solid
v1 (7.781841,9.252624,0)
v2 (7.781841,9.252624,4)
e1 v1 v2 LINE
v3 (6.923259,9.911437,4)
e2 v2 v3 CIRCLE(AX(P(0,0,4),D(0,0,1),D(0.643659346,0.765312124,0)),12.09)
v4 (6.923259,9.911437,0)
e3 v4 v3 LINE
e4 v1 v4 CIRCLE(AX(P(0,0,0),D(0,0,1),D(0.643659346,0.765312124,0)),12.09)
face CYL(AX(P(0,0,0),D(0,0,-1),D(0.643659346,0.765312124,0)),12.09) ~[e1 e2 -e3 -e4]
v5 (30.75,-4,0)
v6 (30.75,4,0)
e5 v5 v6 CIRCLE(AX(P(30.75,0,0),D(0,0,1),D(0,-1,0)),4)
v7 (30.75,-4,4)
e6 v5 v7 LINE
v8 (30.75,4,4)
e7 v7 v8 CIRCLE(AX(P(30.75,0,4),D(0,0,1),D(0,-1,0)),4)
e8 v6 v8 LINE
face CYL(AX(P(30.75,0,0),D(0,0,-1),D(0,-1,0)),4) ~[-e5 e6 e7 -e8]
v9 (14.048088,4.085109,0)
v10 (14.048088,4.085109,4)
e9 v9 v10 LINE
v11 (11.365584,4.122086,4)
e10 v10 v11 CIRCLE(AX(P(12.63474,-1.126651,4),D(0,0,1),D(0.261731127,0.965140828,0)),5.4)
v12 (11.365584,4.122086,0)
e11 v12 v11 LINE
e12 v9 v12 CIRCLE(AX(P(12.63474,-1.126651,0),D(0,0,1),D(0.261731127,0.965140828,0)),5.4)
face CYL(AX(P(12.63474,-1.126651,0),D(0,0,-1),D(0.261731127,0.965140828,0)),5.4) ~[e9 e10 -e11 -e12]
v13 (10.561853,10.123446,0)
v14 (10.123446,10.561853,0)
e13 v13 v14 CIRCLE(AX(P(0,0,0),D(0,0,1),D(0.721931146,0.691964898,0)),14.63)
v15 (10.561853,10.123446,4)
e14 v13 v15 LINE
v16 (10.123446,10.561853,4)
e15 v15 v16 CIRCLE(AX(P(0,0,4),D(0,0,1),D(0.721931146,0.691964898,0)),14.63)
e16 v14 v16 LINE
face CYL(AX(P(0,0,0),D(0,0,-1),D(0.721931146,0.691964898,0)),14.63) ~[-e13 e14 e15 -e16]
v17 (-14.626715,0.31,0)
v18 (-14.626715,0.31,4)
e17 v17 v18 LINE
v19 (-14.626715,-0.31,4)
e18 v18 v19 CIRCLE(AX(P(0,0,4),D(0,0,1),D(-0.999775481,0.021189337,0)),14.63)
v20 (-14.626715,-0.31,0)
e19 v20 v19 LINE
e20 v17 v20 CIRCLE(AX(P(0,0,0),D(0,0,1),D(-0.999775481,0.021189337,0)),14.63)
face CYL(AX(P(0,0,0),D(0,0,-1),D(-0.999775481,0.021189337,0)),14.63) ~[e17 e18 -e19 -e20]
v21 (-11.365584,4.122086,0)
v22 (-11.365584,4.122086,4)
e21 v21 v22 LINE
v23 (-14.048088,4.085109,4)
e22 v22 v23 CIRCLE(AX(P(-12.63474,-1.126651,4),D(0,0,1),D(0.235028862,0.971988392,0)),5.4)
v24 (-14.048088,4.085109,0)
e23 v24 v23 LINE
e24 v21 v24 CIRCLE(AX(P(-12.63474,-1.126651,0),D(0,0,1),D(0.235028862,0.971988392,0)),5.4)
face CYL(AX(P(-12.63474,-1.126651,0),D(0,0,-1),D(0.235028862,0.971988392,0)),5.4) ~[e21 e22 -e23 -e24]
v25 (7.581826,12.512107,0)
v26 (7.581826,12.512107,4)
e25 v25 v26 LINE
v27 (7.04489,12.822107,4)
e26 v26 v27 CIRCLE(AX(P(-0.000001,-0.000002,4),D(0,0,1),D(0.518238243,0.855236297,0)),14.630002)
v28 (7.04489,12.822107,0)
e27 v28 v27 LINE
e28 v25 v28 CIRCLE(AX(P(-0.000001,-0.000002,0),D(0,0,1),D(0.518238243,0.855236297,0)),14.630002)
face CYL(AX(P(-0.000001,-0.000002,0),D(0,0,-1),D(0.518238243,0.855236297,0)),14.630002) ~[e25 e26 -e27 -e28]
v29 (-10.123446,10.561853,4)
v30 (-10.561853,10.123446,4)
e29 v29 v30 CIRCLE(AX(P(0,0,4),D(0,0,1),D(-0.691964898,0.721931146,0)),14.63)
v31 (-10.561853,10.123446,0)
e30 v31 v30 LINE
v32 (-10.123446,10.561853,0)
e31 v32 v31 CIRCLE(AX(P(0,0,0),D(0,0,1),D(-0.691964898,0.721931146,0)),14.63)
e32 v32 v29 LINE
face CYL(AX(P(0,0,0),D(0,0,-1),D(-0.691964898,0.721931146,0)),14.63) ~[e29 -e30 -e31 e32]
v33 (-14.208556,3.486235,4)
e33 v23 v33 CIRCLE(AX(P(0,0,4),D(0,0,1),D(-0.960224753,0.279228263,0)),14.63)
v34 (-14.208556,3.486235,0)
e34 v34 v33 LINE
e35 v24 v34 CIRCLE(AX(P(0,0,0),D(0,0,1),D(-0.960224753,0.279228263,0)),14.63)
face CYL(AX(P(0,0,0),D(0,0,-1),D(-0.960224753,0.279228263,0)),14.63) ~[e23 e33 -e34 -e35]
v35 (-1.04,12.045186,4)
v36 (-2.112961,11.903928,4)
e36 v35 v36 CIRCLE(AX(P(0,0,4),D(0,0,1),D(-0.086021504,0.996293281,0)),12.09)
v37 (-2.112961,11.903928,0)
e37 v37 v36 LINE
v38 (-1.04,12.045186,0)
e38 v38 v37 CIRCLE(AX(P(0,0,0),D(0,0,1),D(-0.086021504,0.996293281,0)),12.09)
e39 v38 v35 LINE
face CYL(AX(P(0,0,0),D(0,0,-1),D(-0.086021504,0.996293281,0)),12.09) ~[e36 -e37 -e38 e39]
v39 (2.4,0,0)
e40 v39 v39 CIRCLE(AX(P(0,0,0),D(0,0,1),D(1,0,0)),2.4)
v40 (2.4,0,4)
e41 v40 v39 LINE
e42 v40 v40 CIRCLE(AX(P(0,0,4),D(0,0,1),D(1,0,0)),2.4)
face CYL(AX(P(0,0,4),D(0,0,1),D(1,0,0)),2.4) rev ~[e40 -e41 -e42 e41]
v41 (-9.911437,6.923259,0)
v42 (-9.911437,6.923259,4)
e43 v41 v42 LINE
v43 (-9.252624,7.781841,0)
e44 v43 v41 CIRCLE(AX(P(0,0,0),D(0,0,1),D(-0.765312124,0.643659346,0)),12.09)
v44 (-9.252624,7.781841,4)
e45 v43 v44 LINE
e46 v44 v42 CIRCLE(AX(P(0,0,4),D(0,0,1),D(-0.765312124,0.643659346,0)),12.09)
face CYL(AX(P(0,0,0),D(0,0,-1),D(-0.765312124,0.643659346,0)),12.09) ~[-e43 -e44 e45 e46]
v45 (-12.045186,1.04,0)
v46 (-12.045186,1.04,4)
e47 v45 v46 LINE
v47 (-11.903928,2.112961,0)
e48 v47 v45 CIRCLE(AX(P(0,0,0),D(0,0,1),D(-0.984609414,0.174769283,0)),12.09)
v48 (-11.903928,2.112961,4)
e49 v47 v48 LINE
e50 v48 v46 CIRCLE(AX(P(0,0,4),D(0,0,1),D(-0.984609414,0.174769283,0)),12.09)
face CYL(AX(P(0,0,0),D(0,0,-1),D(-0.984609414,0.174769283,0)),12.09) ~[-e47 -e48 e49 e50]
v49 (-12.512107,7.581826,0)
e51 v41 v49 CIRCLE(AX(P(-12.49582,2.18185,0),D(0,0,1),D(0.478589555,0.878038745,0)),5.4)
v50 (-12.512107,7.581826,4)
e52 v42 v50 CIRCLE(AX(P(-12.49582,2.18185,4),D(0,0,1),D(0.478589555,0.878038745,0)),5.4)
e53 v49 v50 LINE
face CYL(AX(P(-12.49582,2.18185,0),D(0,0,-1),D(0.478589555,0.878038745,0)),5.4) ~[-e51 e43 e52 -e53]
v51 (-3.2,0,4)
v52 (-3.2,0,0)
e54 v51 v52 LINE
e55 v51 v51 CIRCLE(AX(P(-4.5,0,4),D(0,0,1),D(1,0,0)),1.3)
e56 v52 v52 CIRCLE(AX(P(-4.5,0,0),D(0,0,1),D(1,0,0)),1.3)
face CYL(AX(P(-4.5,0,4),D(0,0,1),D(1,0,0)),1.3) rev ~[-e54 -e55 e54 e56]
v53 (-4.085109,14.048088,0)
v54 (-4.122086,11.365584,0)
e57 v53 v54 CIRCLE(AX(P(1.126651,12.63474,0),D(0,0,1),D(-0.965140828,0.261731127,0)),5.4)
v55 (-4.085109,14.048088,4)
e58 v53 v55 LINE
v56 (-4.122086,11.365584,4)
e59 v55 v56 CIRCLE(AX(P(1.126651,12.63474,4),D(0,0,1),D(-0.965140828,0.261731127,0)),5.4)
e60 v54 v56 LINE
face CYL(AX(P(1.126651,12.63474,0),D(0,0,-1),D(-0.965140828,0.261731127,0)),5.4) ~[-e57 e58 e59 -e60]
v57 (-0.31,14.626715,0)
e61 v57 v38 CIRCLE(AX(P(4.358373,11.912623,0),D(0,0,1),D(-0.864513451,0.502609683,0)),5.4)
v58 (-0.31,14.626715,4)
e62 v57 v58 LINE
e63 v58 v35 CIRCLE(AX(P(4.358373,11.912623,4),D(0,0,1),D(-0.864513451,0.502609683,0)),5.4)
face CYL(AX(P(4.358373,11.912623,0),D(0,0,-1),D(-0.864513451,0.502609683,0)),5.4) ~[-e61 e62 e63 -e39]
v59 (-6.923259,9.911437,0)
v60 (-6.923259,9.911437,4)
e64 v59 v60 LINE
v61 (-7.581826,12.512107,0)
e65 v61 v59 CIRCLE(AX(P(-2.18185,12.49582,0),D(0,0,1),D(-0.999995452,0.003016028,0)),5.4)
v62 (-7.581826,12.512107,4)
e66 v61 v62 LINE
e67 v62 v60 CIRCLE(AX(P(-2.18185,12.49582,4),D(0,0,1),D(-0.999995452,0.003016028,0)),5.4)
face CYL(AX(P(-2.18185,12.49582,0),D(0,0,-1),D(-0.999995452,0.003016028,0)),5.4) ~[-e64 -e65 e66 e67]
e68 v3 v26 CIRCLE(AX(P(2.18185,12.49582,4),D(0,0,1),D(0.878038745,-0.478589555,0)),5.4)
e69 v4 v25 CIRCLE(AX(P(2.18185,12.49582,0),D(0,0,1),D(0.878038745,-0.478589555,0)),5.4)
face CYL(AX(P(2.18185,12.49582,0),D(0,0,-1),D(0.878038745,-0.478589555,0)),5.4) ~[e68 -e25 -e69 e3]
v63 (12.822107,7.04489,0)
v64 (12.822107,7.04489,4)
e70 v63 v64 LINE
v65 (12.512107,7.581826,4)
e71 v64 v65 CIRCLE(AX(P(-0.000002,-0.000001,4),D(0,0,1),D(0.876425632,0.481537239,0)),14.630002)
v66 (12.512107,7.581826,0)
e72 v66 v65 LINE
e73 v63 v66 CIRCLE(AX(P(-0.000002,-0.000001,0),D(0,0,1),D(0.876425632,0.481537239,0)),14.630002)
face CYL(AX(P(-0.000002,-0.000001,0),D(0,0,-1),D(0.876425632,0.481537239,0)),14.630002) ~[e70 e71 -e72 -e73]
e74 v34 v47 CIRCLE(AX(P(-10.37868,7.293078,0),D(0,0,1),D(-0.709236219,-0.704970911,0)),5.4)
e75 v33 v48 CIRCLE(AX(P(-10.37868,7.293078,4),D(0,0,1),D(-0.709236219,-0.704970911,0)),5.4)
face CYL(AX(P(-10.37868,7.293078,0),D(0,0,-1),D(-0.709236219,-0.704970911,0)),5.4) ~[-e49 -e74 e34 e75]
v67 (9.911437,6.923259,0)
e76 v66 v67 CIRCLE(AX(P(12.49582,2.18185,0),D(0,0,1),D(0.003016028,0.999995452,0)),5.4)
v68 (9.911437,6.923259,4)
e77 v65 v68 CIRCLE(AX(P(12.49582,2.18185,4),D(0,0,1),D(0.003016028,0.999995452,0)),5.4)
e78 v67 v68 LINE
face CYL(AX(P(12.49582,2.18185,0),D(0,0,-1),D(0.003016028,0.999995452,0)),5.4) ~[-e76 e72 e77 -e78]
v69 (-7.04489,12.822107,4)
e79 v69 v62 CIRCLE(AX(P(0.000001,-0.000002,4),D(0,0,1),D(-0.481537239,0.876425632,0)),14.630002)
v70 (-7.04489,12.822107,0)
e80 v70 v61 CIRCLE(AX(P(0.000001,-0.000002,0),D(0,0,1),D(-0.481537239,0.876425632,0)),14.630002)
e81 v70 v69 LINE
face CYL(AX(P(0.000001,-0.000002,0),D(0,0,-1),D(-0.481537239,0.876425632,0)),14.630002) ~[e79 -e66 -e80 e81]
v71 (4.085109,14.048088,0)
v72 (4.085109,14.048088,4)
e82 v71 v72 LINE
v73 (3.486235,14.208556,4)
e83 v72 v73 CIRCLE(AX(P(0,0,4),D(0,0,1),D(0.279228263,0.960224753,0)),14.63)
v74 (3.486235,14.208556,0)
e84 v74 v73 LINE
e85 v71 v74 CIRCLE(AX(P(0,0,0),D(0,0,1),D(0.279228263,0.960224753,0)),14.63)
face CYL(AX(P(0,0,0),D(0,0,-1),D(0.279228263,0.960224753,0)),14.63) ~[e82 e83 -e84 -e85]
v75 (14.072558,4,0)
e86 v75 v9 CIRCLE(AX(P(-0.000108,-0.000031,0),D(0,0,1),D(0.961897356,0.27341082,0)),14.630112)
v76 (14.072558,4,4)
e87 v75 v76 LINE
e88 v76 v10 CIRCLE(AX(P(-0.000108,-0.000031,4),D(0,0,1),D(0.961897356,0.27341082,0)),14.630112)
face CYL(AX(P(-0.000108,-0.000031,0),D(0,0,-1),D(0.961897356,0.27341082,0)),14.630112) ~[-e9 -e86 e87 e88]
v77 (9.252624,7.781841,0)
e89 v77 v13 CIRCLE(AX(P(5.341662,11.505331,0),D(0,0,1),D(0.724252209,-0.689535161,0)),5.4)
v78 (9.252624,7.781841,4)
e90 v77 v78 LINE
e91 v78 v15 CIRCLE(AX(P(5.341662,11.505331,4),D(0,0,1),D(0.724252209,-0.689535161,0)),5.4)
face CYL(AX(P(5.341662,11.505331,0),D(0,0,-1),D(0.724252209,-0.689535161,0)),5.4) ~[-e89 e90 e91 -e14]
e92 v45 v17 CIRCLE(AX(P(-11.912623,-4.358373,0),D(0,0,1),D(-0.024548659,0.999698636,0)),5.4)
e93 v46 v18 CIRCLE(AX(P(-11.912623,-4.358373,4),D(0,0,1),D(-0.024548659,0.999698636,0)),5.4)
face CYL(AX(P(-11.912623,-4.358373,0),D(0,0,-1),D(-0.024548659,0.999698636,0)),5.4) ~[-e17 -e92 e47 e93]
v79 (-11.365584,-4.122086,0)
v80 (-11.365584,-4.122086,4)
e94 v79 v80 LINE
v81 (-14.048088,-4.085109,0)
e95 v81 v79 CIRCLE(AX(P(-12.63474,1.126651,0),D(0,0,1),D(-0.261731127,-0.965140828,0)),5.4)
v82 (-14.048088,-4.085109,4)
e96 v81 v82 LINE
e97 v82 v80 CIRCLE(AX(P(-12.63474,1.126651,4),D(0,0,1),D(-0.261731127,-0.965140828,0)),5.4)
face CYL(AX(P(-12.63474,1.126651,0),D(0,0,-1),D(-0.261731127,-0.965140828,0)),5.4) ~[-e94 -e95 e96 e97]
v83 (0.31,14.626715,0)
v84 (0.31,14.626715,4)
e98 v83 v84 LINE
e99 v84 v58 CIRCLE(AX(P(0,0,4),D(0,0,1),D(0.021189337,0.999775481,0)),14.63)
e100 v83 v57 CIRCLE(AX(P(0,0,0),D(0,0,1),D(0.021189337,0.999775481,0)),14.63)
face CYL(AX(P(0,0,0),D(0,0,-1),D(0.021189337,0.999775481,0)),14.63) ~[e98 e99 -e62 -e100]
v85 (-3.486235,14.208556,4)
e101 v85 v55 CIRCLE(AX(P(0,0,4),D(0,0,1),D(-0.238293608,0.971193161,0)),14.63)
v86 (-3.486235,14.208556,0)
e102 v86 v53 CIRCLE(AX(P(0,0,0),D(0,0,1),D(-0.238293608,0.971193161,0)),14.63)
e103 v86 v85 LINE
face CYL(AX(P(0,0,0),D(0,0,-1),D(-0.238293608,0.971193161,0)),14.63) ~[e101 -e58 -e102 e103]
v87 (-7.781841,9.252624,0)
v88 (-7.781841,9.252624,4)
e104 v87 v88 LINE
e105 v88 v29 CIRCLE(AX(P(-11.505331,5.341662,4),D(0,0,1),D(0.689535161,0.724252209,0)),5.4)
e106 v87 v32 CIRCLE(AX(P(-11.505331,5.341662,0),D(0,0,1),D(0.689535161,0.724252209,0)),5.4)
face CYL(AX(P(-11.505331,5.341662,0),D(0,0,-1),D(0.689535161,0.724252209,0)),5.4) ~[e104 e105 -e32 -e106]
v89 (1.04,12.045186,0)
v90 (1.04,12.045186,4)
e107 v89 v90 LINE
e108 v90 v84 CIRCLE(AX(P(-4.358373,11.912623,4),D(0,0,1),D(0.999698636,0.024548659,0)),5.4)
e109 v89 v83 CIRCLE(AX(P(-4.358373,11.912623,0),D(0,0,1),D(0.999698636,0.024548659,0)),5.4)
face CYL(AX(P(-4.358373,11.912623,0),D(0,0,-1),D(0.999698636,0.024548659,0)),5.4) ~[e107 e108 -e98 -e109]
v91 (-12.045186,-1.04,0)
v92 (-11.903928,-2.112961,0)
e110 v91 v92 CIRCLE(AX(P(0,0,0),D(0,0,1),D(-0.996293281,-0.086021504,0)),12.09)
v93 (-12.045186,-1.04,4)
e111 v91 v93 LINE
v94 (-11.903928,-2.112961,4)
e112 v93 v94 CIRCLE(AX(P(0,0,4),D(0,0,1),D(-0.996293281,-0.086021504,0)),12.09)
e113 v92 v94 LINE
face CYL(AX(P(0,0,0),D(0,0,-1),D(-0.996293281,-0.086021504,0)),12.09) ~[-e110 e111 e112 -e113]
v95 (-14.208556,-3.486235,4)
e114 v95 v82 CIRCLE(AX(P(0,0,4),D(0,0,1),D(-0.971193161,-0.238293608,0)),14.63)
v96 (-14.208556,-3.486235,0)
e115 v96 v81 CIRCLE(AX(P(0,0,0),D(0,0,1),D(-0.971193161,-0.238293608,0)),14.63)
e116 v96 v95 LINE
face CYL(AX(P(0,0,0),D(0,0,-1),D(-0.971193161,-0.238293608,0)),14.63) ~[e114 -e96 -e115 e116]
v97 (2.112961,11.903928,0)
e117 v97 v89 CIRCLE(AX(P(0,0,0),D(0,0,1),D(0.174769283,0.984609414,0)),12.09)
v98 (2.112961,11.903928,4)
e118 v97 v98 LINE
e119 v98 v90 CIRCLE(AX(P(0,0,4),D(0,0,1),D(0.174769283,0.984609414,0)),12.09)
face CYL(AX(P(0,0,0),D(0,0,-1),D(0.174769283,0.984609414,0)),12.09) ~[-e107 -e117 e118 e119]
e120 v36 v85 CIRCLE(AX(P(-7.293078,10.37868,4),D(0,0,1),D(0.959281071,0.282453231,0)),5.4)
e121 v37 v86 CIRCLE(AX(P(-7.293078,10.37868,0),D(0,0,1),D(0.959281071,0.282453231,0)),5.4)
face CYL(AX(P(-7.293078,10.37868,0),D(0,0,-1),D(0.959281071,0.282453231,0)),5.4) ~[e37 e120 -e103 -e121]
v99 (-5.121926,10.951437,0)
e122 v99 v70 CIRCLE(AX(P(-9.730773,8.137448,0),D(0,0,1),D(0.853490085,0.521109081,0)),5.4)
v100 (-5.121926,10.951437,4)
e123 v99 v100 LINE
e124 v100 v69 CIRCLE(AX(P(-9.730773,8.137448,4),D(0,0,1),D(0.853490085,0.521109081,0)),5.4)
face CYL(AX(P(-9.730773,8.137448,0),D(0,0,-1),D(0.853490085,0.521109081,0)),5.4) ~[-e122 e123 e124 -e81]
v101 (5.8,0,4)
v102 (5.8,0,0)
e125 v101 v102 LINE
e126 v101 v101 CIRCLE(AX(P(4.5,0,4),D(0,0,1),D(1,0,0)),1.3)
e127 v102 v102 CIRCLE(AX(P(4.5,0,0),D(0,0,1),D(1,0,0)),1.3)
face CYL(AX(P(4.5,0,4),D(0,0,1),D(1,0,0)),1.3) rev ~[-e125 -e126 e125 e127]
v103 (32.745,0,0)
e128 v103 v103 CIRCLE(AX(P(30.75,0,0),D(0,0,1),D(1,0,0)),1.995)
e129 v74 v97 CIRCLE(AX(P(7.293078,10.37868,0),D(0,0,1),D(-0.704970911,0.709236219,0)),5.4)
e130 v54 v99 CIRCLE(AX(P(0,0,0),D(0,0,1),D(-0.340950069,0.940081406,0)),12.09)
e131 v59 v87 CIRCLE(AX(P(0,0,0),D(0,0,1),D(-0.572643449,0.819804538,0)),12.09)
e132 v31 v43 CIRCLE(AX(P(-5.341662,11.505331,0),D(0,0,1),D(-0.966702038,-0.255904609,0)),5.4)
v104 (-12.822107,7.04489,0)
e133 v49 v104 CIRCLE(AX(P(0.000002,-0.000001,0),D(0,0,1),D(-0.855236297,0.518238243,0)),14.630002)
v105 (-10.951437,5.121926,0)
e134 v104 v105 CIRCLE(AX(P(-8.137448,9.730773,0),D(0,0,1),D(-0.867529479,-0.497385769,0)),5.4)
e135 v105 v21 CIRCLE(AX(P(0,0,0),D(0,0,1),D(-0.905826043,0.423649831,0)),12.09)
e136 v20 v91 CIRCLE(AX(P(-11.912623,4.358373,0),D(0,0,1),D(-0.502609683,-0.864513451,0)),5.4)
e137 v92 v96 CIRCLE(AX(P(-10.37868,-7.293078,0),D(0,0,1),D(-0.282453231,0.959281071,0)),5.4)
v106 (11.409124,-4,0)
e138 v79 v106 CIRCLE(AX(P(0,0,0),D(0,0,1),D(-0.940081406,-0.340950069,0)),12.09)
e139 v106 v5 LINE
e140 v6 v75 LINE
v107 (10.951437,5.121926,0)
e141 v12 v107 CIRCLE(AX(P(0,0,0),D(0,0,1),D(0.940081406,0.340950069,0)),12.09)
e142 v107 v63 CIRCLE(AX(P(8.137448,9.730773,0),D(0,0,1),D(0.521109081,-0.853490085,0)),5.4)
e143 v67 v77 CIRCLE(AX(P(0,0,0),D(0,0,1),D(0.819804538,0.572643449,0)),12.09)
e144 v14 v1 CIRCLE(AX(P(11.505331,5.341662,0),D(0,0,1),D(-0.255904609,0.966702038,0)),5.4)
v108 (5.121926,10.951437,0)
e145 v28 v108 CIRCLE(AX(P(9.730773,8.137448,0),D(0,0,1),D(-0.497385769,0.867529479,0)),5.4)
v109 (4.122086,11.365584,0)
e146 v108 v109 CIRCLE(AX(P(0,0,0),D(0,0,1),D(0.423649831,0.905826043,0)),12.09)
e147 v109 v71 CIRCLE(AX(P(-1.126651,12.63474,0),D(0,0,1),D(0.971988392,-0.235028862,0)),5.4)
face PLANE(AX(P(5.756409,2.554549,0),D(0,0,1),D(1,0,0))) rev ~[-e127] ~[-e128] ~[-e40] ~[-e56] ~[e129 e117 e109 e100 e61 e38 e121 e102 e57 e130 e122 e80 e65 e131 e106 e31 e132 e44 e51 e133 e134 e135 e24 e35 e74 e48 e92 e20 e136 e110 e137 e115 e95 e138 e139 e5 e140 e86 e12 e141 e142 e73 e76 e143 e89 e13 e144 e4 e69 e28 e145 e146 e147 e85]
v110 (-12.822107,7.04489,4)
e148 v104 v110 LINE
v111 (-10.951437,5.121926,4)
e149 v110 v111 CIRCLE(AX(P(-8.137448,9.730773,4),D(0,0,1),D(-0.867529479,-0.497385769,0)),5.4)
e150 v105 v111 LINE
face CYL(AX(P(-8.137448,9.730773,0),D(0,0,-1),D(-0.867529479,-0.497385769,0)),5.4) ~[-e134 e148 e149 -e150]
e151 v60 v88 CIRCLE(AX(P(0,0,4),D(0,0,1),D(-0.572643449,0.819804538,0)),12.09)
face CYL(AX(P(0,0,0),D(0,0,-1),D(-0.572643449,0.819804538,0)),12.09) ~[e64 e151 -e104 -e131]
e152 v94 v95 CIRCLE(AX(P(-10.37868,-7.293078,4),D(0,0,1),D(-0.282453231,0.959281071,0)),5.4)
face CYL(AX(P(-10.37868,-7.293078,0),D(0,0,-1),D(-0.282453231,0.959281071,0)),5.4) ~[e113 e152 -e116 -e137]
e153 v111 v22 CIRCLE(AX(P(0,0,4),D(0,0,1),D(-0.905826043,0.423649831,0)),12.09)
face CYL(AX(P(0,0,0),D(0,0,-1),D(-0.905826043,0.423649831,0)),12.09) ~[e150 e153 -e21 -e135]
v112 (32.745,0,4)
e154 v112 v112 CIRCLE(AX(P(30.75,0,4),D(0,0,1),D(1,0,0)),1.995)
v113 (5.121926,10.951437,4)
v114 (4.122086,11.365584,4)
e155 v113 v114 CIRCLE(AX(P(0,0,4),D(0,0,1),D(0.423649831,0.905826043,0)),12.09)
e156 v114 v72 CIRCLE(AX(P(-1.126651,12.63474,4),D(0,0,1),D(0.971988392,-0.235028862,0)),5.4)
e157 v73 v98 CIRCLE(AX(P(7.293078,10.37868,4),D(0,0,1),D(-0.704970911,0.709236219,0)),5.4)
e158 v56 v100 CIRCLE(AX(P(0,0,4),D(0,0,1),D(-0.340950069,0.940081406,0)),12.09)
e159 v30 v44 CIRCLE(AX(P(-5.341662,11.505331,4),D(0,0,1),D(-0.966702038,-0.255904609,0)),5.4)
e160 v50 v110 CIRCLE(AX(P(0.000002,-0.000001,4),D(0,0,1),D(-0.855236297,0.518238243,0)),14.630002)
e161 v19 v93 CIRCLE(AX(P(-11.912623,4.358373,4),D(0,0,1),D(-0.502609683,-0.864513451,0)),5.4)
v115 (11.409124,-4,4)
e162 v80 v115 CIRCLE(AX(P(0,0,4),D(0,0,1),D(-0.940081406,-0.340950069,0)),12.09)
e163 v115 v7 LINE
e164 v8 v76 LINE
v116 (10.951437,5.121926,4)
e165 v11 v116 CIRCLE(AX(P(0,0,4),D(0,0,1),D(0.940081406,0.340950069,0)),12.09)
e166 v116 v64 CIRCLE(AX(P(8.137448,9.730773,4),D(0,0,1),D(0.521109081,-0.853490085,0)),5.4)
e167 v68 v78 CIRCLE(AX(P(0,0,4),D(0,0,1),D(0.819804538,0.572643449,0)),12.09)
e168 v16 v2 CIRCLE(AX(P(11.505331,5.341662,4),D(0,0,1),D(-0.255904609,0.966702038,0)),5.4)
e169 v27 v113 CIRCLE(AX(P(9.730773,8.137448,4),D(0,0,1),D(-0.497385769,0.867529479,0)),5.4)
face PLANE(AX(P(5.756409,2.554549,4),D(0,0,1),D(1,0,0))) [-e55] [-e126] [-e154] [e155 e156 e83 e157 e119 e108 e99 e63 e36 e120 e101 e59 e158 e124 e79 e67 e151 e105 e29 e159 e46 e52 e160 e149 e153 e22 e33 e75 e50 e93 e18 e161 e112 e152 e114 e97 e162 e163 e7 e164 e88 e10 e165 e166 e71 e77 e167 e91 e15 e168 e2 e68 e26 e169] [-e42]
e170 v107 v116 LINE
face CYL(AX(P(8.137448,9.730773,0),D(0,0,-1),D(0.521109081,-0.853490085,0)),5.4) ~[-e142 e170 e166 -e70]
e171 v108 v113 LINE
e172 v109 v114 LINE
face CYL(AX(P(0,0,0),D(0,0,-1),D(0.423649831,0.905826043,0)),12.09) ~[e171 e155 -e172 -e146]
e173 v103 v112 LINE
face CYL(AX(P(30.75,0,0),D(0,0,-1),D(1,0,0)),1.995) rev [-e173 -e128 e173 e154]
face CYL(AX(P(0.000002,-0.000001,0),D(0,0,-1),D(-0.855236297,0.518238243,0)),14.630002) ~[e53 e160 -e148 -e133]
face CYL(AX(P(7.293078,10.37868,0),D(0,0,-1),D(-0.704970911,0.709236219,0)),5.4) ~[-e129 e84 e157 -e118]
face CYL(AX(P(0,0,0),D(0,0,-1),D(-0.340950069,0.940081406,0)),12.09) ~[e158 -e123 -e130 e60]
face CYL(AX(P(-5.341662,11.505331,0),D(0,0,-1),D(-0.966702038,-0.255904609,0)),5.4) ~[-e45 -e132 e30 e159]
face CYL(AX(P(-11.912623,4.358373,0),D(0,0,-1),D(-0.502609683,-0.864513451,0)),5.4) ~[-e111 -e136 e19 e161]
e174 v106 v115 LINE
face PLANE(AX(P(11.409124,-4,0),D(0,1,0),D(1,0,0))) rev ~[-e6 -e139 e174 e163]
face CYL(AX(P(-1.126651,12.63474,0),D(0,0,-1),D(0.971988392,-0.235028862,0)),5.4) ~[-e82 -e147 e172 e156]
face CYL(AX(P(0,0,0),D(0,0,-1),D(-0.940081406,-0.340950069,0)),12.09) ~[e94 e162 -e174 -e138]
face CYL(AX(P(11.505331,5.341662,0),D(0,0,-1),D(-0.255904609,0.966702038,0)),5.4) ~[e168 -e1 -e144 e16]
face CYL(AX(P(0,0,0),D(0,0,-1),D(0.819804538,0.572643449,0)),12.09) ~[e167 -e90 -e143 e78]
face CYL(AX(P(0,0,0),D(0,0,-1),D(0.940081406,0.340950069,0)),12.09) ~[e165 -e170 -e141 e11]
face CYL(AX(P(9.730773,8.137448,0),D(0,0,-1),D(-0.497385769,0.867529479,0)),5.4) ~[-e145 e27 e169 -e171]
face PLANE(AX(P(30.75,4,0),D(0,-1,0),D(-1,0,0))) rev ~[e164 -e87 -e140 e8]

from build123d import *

# Parameters (mm, degrees)
SKETCH2_R           = 1.75
SKETCH2_R_2         = 1.995
BOSS_EXTRUDE1_DEPTH = 4
SKETCH4_R           = 1.3
SKETCH4_R_2         = 2.4
CUT_EXTRUDE1_DEPTH  = 5


with BuildPart() as part:
    # Sketch2 → Boss-Extrude1 (new body)
    with BuildSketch(Plane.XY):
        with BuildLine():
            ThreePointArc((30.75, -4), (34.75, 0), (30.75, 4))
            Line((30.75, 4), (14.072558403, 4))
            ThreePointArc((14.072558403, 4), (14.06038767, 4.04257326), (14.048088143, 4.085109489))
            ThreePointArc((14.048088143, 4.085109489), (12.709169027, 4.272836063), (11.365584201, 4.122086336))
            ThreePointArc((11.365584201, 4.122086336), (11.169703548, 4.626642697), (10.951436862, 5.12192646))
            ThreePointArc((10.951436862, 5.12192646), (12.008090957, 5.965388247), (12.82210701, 7.044889767))
            ThreePointArc((12.82210701, 7.044889767), (12.669951657, 7.315), (12.51210701, 7.581825517))
            ThreePointArc((12.51210701, 7.581825517), (11.170223244, 7.416617696), (9.911436862, 6.9232593))
            ThreePointArc((9.911436862, 6.9232593), (9.591641884, 7.359925677), (9.252623584, 7.781841479))
            ThreePointArc((9.252623584, 7.781841479), (10.05496909, 8.870045207), (10.561852666, 10.123446462))
            ThreePointArc((10.561852666, 10.123446462), (10.344972209, 10.344972209), (10.123446462, 10.561852666))
            ThreePointArc((10.123446462, 10.561852666), (8.870045207, 10.05496909), (7.781841479, 9.252623584))
            ThreePointArc((7.781841479, 9.252623584), (7.359925677, 9.591641884), (6.9232593, 9.911436862))
            ThreePointArc((6.9232593, 9.911436862), (7.416617696, 11.170223244), (7.581825517, 12.51210701))
            ThreePointArc((7.581825517, 12.51210701), (7.315, 12.669951657), (7.044889767, 12.82210701))
            ThreePointArc((7.044889767, 12.82210701), (5.965388247, 12.008090957), (5.12192646, 10.951436862))
            ThreePointArc((5.12192646, 10.951436862), (4.626642697, 11.169703548), (4.122086336, 11.365584201))
            ThreePointArc((4.122086336, 11.365584201), (4.272836063, 12.709169027), (4.085109489, 14.048088143))
            ThreePointArc((4.085109489, 14.048088143), (3.78652263, 14.131494839), (3.486235477, 14.208555951))
            ThreePointArc((3.486235477, 14.208555951), (2.654199937, 13.14288127), (2.112960617, 11.903927815))
            ThreePointArc((2.112960617, 11.903927815), (1.578061664, 11.986568374), (1.04, 12.04518576))
            ThreePointArc((1.04, 12.04518576), (0.837867713, 13.382005944), (0.31, 14.626715284))
            ThreePointArc((0.31, 14.626715284), (0, 14.63), (-0.31, 14.626715284))
            ThreePointArc((-0.31, 14.626715284), (-0.837867713, 13.382005944), (-1.04, 12.04518576))
            ThreePointArc((-1.04, 12.04518576), (-1.578061664, 11.986568374), (-2.112960617, 11.903927815))
            ThreePointArc((-2.112960617, 11.903927815), (-2.654199937, 13.14288127), (-3.486235477, 14.208555951))
            ThreePointArc((-3.486235477, 14.208555951), (-3.78652263, 14.131494839), (-4.085109489, 14.048088143))
            ThreePointArc((-4.085109489, 14.048088143), (-4.272836063, 12.709169027), (-4.122086336, 11.365584201))
            ThreePointArc((-4.122086336, 11.365584201), (-4.626642697, 11.169703548), (-5.12192646, 10.951436862))
            ThreePointArc((-5.12192646, 10.951436862), (-5.965388247, 12.008090957), (-7.044889767, 12.82210701))
            ThreePointArc((-7.044889767, 12.82210701), (-7.315, 12.669951657), (-7.581825517, 12.51210701))
            ThreePointArc((-7.581825517, 12.51210701), (-7.416617696, 11.170223244), (-6.9232593, 9.911436862))
            ThreePointArc((-6.9232593, 9.911436862), (-7.359925677, 9.591641884), (-7.781841479, 9.252623584))
            ThreePointArc((-7.781841479, 9.252623584), (-8.870045207, 10.05496909), (-10.123446462, 10.561852666))
            ThreePointArc((-10.123446462, 10.561852666), (-10.344972209, 10.344972209), (-10.561852666, 10.123446462))
            ThreePointArc((-10.561852666, 10.123446462), (-10.05496909, 8.870045207), (-9.252623584, 7.781841479))
            ThreePointArc((-9.252623584, 7.781841479), (-9.591641884, 7.359925677), (-9.911436862, 6.9232593))
            ThreePointArc((-9.911436862, 6.9232593), (-11.170223244, 7.416617696), (-12.51210701, 7.581825517))
            ThreePointArc((-12.51210701, 7.581825517), (-12.669951657, 7.315), (-12.82210701, 7.044889767))
            ThreePointArc((-12.82210701, 7.044889767), (-12.008090957, 5.965388247), (-10.951436862, 5.12192646))
            ThreePointArc((-10.951436862, 5.12192646), (-11.169703548, 4.626642697), (-11.365584201, 4.122086336))
            ThreePointArc((-11.365584201, 4.122086336), (-12.709169027, 4.272836063), (-14.048088143, 4.085109489))
            ThreePointArc((-14.048088143, 4.085109489), (-14.131494839, 3.78652263), (-14.208555951, 3.486235477))
            ThreePointArc((-14.208555951, 3.486235477), (-13.14288127, 2.654199937), (-11.903927815, 2.112960617))
            ThreePointArc((-11.903927815, 2.112960617), (-11.986568374, 1.578061664), (-12.04518576, 1.04))
            ThreePointArc((-12.04518576, 1.04), (-13.382005944, 0.837867713), (-14.626715284, 0.31))
            ThreePointArc((-14.626715284, 0.31), (-14.63, 0), (-14.626715284, -0.31))
            ThreePointArc((-14.626715284, -0.31), (-13.382005944, -0.837867713), (-12.04518576, -1.04))
            ThreePointArc((-12.04518576, -1.04), (-11.986568374, -1.578061664), (-11.903927815, -2.112960617))
            ThreePointArc((-11.903927815, -2.112960617), (-13.14288127, -2.654199937), (-14.208555951, -3.486235477))
            ThreePointArc((-14.208555951, -3.486235477), (-14.131494839, -3.78652263), (-14.048088143, -4.085109489))
            ThreePointArc((-14.048088143, -4.085109489), (-12.709169027, -4.272836063), (-11.365584201, -4.122086336))
            ThreePointArc((-11.365584201, -4.122086336), (0.064808849, -12.089826294), (11.409123542, -4))
            Line((11.409123542, -4), (30.75, -4))
        make_face()
        Circle(SKETCH2_R, mode=Mode.SUBTRACT)
        with Locations((30.75, 0)):
            Circle(SKETCH2_R_2, mode=Mode.SUBTRACT)
    extrude(amount=BOSS_EXTRUDE1_DEPTH)

    # Sketch4 → Cut-Extrude1 (cut, through all)
    with BuildSketch(Plane.XY.offset(4)):
        with Locations((4.5, 0)):
            Circle(SKETCH4_R)
        with Locations((-4.5, 0)):
            Circle(SKETCH4_R)
        Circle(SKETCH4_R_2)
    extrude(amount=-CUT_EXTRUDE1_DEPTH, mode=Mode.SUBTRACT)


solid = part.part
